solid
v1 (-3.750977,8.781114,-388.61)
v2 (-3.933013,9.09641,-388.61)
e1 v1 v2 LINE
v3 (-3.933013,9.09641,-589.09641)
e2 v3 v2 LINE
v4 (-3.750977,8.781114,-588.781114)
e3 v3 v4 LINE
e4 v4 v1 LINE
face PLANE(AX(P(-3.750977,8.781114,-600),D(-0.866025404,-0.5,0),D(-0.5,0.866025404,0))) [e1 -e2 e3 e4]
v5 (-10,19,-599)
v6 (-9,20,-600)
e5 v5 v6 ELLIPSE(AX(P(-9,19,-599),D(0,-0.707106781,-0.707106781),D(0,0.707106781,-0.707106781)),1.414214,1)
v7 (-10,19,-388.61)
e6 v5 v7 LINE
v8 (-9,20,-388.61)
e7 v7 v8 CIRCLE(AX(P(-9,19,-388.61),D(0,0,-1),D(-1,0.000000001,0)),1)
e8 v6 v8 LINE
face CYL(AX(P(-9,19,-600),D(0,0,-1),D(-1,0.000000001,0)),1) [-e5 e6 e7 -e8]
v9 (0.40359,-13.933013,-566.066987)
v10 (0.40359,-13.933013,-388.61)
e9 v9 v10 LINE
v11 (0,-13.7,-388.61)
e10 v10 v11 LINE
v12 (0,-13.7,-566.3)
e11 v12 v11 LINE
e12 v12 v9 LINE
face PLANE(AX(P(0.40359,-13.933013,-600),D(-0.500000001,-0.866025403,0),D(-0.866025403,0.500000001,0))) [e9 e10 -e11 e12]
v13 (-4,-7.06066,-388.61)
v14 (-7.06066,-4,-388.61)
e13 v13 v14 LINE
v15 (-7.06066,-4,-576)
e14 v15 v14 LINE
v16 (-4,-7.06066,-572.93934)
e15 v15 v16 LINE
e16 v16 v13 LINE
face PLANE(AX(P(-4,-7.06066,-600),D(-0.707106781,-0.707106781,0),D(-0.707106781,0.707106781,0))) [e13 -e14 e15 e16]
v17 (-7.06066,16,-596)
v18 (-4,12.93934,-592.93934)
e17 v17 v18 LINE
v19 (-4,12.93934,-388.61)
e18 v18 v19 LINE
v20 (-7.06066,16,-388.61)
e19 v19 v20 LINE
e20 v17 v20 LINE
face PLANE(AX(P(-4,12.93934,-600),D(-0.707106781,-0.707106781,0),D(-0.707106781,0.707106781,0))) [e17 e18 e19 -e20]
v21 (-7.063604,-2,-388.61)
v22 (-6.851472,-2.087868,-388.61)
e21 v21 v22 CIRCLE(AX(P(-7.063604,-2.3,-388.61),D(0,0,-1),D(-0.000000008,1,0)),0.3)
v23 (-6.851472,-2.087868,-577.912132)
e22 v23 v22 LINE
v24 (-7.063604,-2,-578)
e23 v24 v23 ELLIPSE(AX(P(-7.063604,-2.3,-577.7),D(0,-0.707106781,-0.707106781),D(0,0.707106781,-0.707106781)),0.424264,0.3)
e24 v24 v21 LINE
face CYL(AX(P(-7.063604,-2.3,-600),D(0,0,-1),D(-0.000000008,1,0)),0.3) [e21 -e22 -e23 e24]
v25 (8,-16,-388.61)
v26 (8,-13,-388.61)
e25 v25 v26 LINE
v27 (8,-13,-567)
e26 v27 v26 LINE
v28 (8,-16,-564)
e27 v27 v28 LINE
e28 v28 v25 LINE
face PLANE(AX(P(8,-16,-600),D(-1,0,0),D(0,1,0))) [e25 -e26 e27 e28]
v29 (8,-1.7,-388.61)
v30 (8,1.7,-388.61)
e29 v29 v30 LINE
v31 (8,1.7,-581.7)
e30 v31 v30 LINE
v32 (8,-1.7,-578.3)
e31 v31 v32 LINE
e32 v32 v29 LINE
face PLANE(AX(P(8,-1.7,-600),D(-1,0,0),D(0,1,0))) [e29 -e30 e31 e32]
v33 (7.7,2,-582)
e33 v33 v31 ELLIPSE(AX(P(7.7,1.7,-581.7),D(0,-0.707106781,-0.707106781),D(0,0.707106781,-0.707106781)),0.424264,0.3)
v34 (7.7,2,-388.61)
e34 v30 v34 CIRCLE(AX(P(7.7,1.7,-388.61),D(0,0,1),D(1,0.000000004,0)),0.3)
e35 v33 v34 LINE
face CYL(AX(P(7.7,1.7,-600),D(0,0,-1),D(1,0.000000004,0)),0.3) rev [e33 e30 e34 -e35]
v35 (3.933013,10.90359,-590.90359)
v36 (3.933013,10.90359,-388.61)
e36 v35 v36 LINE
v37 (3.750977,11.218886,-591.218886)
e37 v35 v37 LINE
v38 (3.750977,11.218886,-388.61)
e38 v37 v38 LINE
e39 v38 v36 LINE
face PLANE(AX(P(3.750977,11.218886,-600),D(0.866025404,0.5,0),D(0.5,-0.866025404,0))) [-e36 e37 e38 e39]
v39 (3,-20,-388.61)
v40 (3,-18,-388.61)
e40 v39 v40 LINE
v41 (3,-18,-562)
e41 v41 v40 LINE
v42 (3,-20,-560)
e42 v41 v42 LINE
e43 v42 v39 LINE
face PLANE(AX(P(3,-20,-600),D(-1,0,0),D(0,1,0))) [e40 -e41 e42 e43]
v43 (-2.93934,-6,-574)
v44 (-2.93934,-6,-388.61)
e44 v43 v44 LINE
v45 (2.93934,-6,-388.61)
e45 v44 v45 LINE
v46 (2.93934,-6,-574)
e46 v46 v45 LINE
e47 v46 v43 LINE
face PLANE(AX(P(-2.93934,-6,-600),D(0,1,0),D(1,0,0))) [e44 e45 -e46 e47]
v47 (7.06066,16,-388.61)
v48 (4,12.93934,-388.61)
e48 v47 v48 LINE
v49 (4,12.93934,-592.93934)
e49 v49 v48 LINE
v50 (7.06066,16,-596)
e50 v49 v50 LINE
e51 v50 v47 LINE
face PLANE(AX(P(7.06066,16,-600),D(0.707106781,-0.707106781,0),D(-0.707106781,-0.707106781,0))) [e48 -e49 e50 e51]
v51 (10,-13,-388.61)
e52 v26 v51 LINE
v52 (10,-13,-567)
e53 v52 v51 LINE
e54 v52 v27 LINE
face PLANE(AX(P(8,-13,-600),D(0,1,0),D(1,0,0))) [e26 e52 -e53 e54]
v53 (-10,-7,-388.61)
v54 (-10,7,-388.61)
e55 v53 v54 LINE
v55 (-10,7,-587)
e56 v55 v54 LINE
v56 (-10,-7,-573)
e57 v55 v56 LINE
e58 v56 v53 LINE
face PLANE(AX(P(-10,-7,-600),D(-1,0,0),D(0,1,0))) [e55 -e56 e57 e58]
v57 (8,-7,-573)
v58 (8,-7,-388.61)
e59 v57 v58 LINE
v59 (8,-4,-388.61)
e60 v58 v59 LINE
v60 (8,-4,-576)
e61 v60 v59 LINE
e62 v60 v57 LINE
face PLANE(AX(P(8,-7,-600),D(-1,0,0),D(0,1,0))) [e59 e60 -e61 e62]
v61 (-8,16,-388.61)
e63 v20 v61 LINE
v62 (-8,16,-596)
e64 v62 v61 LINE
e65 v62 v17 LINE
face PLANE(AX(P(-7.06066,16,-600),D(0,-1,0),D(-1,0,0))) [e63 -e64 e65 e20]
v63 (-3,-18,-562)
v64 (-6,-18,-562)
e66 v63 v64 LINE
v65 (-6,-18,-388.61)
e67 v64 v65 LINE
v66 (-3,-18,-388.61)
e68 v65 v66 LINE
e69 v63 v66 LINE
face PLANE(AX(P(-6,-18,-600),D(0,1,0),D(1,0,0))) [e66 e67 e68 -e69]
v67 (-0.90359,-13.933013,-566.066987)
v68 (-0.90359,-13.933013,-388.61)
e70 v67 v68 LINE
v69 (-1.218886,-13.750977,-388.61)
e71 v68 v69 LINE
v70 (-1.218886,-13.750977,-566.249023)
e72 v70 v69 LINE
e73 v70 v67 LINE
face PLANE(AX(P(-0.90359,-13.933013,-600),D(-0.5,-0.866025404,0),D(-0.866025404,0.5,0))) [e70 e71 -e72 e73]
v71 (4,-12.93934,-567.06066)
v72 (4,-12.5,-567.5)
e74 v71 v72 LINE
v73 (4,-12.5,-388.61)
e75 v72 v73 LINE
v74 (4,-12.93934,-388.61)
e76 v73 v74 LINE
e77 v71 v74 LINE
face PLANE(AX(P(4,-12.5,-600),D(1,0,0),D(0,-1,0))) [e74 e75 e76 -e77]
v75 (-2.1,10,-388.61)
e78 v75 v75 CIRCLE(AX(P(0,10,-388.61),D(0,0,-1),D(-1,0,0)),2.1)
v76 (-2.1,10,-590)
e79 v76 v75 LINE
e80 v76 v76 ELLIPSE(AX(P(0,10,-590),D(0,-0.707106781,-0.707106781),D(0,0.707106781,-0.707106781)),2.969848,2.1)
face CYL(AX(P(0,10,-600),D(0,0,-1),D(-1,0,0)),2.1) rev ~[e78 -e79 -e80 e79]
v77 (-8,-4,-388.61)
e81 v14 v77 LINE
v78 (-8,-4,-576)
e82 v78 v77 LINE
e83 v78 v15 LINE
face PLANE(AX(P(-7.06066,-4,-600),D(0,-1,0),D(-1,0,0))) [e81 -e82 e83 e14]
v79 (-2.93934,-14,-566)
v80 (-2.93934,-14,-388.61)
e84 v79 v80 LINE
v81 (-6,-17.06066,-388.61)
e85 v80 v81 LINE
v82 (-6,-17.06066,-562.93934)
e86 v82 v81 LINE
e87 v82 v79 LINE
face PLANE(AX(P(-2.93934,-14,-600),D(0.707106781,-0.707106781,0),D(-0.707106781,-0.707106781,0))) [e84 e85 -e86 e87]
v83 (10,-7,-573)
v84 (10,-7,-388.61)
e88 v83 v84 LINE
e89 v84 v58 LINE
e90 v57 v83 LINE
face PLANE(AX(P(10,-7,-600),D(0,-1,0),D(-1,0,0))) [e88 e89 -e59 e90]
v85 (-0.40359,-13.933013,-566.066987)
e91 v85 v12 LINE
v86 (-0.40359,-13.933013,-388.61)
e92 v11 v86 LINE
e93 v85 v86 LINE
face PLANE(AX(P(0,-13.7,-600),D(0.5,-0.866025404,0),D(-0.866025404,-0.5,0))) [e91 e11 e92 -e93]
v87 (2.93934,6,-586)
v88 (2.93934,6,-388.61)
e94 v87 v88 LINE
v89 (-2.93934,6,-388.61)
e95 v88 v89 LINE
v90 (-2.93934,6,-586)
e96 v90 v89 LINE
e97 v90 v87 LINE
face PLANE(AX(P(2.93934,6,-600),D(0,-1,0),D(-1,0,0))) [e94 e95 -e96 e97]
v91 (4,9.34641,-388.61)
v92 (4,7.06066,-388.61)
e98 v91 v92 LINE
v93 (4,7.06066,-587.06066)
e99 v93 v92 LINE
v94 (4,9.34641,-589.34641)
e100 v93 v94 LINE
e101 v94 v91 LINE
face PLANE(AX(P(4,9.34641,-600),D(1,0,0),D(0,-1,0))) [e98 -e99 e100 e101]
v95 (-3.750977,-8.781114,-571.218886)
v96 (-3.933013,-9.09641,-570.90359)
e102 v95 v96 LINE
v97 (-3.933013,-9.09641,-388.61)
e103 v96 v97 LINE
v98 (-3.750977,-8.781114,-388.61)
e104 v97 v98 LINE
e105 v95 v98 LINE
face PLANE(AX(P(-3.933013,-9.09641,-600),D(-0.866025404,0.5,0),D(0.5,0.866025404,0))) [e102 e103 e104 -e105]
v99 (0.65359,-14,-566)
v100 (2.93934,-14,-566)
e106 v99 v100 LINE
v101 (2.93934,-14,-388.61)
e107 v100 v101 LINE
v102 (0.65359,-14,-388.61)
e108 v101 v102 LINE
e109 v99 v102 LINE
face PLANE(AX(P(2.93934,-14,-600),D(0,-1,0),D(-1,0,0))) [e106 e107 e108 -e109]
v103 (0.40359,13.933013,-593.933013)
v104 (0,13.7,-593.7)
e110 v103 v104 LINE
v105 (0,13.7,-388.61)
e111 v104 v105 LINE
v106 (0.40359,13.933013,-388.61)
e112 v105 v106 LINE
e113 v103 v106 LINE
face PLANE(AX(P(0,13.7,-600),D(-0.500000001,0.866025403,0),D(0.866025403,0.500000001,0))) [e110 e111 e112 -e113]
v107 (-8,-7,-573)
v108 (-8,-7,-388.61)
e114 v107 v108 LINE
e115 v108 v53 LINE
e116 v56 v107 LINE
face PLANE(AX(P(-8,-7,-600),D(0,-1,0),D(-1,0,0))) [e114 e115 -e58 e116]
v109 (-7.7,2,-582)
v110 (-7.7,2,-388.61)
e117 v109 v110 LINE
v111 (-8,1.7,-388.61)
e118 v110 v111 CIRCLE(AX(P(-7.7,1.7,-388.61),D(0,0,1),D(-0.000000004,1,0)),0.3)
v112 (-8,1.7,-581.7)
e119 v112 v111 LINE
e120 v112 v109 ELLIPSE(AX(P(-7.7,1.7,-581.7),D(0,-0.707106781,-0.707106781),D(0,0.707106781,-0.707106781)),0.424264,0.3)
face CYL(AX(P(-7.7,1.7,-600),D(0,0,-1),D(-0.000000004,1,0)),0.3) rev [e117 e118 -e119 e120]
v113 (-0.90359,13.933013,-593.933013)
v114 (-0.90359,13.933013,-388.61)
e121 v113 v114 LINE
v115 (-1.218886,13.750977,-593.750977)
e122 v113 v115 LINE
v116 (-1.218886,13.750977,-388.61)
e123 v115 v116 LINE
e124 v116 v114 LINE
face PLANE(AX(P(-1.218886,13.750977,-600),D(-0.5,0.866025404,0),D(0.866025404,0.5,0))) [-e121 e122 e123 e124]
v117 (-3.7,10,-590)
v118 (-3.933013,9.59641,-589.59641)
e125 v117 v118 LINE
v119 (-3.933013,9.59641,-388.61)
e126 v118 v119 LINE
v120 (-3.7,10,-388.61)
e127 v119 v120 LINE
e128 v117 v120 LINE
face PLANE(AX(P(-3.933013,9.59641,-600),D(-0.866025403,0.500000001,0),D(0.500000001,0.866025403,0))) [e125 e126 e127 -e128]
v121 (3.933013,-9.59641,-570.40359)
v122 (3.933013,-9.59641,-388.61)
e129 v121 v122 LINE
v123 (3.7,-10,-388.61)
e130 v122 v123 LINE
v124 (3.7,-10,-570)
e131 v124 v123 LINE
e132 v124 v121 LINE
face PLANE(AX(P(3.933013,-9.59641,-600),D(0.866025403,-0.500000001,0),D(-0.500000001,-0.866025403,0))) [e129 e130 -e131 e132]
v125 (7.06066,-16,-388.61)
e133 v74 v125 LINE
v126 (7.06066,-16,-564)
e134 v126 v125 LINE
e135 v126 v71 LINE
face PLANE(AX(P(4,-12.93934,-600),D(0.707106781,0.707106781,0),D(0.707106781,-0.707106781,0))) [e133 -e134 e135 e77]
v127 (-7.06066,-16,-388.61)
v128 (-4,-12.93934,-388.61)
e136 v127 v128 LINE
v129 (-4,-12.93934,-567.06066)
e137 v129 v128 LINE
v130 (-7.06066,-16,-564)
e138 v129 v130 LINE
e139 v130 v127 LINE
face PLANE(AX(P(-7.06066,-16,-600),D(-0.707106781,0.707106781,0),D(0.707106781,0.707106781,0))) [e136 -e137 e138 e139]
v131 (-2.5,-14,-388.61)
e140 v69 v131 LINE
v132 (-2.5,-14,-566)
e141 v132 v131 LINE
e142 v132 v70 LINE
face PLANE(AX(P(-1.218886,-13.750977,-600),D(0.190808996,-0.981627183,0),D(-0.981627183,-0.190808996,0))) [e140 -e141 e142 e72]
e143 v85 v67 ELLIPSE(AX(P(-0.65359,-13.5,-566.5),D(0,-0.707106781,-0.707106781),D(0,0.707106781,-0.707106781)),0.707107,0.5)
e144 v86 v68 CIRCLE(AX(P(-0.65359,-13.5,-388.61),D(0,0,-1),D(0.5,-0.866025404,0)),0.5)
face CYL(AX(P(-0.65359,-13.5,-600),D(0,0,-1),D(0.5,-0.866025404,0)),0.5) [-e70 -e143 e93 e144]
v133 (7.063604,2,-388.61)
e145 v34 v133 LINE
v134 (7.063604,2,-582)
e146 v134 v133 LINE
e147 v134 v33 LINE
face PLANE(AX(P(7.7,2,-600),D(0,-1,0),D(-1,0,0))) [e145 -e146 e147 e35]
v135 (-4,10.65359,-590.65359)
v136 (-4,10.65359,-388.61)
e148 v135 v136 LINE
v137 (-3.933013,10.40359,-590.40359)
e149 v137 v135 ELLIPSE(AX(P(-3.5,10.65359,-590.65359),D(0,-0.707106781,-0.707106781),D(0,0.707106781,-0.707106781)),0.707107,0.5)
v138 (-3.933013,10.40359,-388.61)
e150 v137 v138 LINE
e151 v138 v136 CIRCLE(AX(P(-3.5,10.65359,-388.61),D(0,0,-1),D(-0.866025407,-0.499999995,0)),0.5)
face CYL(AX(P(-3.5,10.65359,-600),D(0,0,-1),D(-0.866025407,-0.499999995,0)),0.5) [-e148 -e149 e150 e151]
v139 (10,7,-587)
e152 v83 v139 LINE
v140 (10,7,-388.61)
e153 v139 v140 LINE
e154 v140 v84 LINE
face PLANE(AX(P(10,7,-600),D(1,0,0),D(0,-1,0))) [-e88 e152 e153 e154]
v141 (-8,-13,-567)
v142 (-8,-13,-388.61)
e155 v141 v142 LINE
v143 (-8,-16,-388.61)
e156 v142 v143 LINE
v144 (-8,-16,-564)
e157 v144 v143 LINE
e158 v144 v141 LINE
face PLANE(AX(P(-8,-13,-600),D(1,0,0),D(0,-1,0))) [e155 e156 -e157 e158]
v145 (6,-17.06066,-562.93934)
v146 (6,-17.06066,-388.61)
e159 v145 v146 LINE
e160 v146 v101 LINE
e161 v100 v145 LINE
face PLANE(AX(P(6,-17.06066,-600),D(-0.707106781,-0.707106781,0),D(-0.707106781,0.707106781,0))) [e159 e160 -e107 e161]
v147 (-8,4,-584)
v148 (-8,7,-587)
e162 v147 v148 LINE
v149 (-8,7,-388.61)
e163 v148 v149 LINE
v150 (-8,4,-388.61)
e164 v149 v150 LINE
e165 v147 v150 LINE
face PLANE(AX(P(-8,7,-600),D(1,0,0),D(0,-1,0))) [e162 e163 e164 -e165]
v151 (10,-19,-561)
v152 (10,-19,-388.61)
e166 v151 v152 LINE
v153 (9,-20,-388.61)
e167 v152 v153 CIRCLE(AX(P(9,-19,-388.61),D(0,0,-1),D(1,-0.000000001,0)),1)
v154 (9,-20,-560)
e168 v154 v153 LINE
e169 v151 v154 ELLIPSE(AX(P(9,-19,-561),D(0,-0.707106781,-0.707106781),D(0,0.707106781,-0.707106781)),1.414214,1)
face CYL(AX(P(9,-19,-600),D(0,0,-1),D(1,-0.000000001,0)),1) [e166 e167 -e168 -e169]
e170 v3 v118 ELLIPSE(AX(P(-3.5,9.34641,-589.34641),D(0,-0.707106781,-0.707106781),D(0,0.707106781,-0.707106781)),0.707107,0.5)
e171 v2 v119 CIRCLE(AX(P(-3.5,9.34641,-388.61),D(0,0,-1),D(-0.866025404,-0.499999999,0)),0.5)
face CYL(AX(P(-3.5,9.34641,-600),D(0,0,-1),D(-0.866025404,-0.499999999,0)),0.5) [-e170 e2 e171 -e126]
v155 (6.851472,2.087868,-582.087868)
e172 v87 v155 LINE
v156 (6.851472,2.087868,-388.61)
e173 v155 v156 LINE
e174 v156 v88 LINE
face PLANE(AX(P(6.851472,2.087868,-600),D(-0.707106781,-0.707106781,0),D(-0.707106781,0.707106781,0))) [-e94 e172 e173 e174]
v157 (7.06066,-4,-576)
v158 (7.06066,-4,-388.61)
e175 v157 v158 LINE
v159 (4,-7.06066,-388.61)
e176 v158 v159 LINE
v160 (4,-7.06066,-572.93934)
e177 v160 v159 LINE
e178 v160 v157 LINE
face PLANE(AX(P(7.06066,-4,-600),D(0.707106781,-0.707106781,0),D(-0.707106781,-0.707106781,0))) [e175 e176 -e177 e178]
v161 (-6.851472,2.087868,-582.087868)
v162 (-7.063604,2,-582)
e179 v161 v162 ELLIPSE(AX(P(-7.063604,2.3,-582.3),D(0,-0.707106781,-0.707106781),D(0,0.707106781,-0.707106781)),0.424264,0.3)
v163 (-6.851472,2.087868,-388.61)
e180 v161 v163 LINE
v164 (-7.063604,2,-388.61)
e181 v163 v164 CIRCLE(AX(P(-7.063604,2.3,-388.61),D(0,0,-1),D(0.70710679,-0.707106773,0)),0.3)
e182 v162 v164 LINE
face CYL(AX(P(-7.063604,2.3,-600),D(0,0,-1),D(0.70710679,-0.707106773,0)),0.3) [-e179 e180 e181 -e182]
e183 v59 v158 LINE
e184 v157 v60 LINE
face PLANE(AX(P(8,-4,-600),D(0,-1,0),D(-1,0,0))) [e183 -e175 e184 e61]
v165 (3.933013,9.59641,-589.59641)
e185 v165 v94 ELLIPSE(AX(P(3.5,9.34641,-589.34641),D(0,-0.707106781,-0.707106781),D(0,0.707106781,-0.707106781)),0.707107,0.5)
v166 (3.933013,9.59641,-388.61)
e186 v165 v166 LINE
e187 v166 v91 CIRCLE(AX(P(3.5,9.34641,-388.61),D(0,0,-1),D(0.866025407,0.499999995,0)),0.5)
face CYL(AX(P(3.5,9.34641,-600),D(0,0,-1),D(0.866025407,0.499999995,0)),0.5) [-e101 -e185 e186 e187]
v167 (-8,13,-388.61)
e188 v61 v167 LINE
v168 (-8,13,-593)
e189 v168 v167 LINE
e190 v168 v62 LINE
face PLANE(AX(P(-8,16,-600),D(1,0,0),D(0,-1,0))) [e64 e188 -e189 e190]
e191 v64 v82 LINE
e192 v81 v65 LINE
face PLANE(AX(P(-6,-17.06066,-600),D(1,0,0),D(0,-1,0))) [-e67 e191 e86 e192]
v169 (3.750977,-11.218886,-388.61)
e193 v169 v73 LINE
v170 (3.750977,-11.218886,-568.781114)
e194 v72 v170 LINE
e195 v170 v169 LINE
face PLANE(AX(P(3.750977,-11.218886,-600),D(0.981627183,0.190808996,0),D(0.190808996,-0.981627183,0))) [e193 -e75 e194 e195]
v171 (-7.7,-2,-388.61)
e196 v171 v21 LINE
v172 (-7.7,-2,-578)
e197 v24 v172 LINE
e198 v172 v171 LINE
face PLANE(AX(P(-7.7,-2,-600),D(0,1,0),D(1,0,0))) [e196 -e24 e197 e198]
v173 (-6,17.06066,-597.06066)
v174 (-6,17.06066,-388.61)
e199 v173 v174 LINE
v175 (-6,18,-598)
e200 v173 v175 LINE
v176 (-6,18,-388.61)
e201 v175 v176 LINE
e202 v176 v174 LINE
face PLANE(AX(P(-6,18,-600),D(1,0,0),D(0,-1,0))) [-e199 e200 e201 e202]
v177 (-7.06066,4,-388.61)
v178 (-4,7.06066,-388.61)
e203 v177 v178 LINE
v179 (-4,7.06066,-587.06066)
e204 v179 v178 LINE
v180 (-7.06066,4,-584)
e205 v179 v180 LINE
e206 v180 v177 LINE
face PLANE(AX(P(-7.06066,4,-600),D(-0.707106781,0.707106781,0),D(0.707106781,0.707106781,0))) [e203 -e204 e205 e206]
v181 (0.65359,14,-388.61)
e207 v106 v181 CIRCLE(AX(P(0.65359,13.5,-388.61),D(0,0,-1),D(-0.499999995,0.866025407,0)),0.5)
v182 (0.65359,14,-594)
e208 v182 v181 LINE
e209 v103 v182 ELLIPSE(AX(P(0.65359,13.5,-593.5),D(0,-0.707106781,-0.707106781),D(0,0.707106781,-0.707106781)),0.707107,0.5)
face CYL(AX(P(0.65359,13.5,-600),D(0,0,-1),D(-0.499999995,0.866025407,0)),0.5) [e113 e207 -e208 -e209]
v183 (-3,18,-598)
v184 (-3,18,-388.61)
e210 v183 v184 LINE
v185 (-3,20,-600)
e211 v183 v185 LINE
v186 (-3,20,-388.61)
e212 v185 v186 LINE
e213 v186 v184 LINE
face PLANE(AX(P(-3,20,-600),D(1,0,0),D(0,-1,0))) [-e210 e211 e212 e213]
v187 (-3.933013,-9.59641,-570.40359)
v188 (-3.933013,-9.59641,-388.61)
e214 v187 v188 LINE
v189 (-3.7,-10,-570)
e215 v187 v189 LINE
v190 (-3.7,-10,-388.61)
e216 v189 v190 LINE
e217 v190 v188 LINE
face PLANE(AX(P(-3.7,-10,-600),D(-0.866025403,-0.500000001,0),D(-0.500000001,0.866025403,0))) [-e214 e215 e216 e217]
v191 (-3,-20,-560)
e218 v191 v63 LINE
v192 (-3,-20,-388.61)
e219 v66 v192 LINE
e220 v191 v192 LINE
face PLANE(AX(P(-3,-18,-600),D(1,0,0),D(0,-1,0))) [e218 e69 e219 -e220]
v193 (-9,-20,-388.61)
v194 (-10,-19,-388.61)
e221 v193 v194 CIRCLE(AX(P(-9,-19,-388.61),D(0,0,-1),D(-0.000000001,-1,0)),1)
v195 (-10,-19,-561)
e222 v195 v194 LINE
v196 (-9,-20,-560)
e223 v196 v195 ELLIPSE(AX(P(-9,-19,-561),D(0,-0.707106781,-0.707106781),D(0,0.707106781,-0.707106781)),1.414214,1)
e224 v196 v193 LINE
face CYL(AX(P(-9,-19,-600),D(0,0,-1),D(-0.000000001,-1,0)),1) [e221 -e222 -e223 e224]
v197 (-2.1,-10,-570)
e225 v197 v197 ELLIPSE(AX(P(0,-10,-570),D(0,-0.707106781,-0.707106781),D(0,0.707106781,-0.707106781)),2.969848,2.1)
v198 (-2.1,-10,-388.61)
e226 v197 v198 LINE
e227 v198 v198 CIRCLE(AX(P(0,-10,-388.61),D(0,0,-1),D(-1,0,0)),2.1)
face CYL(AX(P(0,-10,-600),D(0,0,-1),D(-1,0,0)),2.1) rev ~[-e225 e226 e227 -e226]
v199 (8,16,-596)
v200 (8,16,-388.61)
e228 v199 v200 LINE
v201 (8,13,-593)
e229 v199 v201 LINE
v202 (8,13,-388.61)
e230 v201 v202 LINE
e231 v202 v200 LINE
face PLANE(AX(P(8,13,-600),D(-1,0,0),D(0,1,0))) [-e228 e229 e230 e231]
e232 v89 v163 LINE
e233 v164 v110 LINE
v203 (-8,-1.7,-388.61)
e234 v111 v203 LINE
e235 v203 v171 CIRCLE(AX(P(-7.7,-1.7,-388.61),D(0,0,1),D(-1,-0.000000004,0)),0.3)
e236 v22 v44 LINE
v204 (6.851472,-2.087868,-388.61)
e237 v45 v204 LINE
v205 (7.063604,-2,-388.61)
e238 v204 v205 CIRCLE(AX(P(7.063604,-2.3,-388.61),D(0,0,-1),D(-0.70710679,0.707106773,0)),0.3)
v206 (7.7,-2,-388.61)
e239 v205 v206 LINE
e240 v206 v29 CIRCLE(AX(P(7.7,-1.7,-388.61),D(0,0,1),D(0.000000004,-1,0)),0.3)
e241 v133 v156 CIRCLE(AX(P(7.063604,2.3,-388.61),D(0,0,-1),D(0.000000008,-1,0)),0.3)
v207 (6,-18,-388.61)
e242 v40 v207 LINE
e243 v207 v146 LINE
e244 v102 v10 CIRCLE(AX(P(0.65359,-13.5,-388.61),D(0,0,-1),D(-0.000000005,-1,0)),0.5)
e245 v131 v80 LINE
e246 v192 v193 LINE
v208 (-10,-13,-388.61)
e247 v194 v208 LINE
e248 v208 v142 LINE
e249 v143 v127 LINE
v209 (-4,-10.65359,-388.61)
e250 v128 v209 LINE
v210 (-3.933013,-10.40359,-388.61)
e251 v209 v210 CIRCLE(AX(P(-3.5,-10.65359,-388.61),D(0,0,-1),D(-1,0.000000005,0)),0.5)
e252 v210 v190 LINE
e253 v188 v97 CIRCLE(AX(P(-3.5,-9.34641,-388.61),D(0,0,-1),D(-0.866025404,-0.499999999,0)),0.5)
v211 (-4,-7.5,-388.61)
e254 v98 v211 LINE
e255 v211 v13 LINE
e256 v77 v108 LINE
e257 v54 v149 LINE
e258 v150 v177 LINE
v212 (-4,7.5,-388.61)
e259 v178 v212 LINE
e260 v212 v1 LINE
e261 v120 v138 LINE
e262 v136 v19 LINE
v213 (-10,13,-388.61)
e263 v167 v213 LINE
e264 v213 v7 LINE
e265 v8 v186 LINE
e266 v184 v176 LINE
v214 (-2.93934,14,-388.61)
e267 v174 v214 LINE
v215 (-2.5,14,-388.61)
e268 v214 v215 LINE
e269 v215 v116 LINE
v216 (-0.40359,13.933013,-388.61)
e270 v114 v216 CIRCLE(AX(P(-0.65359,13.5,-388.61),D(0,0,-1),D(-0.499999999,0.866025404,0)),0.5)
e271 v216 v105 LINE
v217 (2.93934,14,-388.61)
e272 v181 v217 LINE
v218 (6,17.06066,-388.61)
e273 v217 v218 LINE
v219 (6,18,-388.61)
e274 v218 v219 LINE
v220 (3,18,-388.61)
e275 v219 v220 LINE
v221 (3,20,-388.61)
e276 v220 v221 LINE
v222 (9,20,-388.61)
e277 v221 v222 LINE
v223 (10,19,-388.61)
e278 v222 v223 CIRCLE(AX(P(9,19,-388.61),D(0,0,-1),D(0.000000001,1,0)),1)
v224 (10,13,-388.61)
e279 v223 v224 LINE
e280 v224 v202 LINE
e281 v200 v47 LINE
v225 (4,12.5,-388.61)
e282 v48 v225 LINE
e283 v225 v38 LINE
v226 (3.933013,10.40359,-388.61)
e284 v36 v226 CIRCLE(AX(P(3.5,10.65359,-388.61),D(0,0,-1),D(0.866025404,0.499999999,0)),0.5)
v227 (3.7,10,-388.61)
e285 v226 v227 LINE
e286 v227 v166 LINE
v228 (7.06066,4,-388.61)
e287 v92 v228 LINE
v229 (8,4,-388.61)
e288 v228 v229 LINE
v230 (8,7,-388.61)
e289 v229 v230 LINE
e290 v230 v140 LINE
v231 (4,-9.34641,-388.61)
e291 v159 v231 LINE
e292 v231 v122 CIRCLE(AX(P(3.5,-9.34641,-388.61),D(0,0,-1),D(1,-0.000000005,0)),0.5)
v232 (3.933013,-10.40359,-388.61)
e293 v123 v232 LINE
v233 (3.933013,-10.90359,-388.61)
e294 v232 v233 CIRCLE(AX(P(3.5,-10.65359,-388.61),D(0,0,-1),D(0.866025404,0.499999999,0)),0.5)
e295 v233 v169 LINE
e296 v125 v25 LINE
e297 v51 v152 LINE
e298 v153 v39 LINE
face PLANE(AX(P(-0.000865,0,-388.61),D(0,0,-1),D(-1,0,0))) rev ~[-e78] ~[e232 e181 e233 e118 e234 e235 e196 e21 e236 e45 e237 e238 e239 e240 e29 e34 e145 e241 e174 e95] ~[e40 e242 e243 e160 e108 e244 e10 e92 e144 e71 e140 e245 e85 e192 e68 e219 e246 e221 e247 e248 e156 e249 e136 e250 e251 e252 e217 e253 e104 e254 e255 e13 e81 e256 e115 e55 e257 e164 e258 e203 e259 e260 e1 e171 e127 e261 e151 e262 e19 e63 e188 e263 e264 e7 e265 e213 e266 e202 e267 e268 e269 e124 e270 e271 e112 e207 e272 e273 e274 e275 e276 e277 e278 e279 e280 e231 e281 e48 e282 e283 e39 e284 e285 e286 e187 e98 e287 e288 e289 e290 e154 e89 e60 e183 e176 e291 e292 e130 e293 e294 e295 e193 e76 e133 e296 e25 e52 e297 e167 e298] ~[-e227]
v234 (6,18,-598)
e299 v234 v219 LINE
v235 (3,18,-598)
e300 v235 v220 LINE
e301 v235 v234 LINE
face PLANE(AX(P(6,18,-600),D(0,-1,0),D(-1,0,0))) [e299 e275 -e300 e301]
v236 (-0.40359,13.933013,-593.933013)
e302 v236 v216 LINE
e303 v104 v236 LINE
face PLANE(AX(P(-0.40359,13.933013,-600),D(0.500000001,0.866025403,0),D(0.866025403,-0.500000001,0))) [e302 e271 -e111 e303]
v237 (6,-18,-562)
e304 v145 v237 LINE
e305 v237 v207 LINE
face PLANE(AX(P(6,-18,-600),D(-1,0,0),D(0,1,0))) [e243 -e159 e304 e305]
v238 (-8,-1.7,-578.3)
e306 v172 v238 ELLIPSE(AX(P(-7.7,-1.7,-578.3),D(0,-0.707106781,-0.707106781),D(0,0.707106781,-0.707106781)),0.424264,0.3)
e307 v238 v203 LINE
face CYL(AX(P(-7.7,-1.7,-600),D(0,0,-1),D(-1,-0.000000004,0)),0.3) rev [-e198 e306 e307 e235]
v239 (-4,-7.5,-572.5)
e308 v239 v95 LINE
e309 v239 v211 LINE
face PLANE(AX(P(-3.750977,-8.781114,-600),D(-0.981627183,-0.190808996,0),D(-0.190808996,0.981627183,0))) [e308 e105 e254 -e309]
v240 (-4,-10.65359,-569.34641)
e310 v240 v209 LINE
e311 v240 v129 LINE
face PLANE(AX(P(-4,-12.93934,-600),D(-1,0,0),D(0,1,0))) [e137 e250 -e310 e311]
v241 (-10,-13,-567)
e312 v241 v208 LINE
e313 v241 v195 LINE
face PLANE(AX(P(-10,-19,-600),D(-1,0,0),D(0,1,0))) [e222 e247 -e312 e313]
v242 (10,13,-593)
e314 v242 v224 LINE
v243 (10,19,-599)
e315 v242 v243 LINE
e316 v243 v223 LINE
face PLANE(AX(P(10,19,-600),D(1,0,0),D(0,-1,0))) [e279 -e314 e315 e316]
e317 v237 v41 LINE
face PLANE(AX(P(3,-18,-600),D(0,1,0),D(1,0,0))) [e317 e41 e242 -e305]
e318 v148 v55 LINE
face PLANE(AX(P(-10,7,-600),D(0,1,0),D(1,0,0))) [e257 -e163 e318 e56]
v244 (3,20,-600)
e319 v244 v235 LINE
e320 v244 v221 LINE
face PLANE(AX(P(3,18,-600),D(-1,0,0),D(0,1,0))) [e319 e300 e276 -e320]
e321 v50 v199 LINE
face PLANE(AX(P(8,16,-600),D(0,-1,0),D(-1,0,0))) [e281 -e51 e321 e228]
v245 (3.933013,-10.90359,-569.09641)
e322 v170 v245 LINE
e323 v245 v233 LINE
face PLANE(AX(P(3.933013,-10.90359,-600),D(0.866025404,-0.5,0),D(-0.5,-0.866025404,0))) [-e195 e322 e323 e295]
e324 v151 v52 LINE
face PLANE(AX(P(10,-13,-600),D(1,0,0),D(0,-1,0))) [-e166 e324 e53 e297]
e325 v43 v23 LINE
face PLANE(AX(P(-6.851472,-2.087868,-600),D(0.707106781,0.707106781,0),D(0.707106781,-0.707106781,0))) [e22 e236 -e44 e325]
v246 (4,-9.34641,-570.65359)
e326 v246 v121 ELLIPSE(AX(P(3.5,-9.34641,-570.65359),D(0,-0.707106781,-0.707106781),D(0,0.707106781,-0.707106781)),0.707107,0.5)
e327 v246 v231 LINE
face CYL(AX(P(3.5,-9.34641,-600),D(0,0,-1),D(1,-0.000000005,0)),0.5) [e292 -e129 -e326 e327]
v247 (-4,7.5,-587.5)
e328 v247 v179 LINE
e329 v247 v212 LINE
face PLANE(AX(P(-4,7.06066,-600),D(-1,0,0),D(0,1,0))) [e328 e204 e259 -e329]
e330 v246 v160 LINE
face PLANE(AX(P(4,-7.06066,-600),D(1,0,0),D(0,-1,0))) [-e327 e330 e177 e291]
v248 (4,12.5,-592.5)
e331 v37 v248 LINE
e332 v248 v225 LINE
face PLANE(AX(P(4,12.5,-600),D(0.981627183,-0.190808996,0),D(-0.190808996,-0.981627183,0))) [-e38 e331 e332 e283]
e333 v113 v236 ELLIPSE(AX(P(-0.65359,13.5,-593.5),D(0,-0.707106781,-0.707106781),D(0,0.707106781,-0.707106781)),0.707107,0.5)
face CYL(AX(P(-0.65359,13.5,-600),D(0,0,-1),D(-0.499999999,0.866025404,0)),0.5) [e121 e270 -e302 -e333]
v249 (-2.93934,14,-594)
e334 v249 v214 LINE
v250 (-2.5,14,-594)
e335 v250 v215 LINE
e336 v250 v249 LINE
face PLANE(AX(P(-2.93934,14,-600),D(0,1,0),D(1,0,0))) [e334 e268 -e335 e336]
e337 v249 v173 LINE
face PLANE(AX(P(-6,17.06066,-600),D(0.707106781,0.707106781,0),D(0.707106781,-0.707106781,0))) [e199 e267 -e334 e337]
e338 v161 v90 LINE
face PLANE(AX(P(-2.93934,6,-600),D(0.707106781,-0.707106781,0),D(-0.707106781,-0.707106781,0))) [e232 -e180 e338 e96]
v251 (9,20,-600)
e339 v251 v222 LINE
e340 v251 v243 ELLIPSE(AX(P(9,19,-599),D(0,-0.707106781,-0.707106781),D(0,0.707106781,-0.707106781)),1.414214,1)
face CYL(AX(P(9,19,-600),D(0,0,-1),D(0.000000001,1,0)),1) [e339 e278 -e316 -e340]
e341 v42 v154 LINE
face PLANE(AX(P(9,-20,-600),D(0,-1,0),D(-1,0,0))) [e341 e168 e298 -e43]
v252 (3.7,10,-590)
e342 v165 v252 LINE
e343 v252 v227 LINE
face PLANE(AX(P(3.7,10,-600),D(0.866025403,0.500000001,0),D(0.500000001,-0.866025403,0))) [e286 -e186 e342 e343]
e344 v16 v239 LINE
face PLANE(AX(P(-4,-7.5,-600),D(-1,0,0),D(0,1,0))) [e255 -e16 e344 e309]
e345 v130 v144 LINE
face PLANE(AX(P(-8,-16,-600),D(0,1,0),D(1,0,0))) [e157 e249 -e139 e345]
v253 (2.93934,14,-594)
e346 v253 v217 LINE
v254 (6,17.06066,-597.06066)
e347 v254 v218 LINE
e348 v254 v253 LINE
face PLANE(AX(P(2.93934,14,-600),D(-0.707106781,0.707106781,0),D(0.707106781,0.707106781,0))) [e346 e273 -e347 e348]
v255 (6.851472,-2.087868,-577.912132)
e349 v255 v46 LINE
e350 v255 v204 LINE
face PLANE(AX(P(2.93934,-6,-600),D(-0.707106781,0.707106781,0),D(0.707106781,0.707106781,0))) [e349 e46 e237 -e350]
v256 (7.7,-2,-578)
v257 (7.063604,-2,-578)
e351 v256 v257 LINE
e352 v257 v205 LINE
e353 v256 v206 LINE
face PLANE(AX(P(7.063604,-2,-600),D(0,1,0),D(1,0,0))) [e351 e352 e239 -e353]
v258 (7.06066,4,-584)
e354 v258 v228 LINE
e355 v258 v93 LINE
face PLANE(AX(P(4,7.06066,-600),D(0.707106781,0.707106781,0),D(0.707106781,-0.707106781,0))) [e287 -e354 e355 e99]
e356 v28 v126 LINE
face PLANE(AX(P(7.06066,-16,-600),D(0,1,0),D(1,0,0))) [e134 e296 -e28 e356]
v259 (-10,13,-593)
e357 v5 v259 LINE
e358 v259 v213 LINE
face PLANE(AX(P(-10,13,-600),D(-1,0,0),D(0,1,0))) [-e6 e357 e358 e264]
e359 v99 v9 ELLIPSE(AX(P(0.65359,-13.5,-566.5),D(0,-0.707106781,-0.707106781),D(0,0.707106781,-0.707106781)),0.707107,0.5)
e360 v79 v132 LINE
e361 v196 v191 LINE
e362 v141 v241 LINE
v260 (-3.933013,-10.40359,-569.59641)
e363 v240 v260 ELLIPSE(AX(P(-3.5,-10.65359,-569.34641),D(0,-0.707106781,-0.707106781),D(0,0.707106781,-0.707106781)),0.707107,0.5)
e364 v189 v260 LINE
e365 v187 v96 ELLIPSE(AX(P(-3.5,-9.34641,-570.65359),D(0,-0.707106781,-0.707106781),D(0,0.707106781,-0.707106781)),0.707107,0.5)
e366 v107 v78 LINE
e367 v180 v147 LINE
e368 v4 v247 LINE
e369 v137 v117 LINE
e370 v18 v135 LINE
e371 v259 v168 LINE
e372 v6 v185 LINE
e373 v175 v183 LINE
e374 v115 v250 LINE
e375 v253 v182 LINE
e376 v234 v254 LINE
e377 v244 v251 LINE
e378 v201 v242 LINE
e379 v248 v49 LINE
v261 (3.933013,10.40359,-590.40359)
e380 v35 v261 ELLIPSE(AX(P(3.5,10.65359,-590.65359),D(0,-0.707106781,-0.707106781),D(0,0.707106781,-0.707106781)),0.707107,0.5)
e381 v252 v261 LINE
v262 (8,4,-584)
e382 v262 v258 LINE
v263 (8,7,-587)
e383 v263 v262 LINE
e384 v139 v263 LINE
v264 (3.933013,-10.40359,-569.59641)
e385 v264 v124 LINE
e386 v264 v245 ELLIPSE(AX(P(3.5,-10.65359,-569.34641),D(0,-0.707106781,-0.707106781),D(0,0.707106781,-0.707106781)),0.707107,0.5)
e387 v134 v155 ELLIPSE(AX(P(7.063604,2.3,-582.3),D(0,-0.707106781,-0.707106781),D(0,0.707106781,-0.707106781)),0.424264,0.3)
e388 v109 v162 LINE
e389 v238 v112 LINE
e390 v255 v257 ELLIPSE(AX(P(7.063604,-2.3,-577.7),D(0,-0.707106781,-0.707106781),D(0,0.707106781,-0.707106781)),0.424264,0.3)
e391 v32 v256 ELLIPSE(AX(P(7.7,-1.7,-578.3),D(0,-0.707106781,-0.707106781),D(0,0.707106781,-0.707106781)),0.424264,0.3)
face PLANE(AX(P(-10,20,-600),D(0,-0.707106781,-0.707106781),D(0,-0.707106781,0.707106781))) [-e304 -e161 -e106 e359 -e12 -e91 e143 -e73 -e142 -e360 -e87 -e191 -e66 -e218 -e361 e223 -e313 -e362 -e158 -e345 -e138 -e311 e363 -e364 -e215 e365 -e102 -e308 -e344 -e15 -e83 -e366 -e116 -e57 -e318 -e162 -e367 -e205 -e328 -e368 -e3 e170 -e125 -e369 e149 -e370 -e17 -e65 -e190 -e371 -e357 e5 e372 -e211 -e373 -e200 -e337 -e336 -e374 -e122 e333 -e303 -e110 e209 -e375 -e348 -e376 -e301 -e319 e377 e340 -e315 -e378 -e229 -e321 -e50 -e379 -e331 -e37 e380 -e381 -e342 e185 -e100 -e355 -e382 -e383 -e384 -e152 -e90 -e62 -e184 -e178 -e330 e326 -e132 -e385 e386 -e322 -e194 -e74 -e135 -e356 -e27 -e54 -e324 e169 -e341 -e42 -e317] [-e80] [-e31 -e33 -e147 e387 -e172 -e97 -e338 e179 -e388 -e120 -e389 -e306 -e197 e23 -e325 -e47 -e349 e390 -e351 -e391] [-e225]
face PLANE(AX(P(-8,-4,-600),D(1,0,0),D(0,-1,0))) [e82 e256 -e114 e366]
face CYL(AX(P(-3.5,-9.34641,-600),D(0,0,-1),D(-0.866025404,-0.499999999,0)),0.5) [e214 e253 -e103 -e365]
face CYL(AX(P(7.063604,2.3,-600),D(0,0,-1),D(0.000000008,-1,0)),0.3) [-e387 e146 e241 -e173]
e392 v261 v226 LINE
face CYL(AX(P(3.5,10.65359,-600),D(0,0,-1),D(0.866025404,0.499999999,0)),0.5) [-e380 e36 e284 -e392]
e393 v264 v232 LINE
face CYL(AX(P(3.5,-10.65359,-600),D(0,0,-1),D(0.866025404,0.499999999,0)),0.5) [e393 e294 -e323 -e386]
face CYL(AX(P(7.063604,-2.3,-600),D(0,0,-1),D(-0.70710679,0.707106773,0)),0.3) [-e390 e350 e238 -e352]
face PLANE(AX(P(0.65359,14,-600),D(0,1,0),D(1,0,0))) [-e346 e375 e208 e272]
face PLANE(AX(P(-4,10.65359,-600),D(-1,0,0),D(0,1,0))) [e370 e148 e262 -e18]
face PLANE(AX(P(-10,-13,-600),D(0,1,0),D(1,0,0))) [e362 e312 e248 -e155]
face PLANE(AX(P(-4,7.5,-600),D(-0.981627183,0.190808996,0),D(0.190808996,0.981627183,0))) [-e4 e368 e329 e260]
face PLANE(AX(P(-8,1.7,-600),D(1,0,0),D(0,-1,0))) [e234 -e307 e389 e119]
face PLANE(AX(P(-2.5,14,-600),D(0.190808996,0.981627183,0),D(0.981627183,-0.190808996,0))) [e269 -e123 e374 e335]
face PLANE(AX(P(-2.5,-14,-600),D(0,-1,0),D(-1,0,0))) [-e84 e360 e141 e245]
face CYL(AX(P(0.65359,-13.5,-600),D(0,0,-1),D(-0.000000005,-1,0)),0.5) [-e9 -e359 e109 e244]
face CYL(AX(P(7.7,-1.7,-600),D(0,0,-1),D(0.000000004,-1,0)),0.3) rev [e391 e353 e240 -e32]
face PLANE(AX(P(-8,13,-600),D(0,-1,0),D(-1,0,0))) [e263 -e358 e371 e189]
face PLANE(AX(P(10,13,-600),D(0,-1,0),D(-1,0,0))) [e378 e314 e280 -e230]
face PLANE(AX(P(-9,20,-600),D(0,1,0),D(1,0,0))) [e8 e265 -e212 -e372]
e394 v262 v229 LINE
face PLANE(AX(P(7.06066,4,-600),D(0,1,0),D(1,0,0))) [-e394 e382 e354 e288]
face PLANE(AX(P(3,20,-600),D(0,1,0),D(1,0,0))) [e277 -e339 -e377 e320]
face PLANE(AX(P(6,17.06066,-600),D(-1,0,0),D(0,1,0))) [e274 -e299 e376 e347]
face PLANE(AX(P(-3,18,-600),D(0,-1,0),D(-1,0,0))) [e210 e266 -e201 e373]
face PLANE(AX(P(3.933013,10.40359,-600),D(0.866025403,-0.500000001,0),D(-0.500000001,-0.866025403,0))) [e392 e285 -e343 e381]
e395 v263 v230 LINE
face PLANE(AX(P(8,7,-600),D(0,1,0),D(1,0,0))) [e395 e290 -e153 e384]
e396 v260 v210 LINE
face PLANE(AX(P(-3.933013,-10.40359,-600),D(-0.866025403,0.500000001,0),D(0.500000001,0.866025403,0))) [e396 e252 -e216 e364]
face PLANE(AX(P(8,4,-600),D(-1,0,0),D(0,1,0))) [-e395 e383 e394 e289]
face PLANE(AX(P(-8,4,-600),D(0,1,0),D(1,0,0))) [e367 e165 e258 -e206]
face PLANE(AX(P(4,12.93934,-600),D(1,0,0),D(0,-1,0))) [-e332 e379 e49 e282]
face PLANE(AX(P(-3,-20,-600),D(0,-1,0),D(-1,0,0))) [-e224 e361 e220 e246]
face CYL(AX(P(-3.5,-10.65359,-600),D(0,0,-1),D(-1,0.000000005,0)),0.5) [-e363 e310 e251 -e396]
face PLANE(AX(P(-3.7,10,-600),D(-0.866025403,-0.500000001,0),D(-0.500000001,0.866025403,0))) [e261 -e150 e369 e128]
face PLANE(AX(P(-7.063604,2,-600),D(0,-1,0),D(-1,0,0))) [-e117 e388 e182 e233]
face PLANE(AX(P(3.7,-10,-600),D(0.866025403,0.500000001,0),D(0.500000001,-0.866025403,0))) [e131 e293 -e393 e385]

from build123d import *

# Parameters (mm, degrees)
SKETCH1_R           = 2.1
BOSS_EXTRUDE1_DEPTH = 211.39
CUT_EXTRUDE1_DEPTH  = 21


with BuildPart() as part:
    # Sketch1 → Boss-Extrude1 (new body)
    with BuildSketch(Plane(origin=(0, 0, -600), x_dir=(-1, 0, 0), z_dir=(0, 0, -1))):
        with BuildLine():
            Line((10, -7), (10, 7))
            Line((10, 7), (8, 7))
            Line((8, 7), (8, 4))
            Line((8, 4), (7.060660172, 4))
            Line((7.060660172, 4), (4, 7.060660172))
            Line((4, 7.060660172), (4, 7.5))
            Line((4, 7.5), (3.750976592, 8.781114371))
            Line((3.750976592, 8.781114371), (3.933012702, 9.096410162))
            ThreePointArc((3.933012702, 9.096410162), (4, 9.346410162), (3.933012702, 9.596410162))
            Line((3.933012702, 9.596410162), (3.7, 10))
            Line((3.7, 10), (3.933012702, 10.403589838))
            ThreePointArc((3.933012702, 10.403589838), (3.982962913, 10.524180316), (4, 10.653589838))
            Line((4, 10.653589838), (4, 12.939339828))
            Line((4, 12.939339828), (7.060660172, 16))
            Line((7.060660172, 16), (8, 16))
            Line((8, 16), (8, 13))
            Line((8, 13), (10, 13))
            Line((10, 13), (10, 19))
            ThreePointArc((10, 19), (9.707106781, 19.707106781), (9, 20))
            Line((9, 20), (3, 20))
            Line((3, 20), (3, 18))
            Line((3, 18), (6, 18))
            Line((6, 18), (6, 17.060660172))
            Line((6, 17.060660172), (2.939339828, 14))
            Line((2.939339828, 14), (2.5, 14))
            Line((2.5, 14), (1.218885629, 13.750976592))
            Line((1.218885629, 13.750976592), (0.903589838, 13.933012702))
            ThreePointArc((0.903589838, 13.933012702), (0.653589838, 14), (0.403589838, 13.933012702))
            Line((0.403589838, 13.933012702), (0, 13.7))
            Line((0, 13.7), (-0.403589838, 13.933012702))
            ThreePointArc((-0.403589838, 13.933012702), (-0.524180316, 13.982962913), (-0.653589838, 14))
            Line((-0.653589838, 14), (-2.939339828, 14))
            Line((-2.939339828, 14), (-6, 17.060660172))
            Line((-6, 17.060660172), (-6, 18))
            Line((-6, 18), (-3, 18))
            Line((-3, 18), (-3, 20))
            Line((-3, 20), (-9, 20))
            ThreePointArc((-9, 20), (-9.707106781, 19.707106781), (-10, 19))
            Line((-10, 19), (-10, 13))
            Line((-10, 13), (-8, 13))
            Line((-8, 13), (-8, 16))
            Line((-8, 16), (-7.060660172, 16))
            Line((-7.060660172, 16), (-4, 12.939339828))
            Line((-4, 12.939339828), (-4, 12.5))
            Line((-4, 12.5), (-3.750976592, 11.218885629))
            Line((-3.750976592, 11.218885629), (-3.933012702, 10.903589838))
            ThreePointArc((-3.933012702, 10.903589838), (-4, 10.653589838), (-3.933012702, 10.403589838))
            Line((-3.933012702, 10.403589838), (-3.7, 10))
            Line((-3.7, 10), (-3.933012702, 9.596410162))
            ThreePointArc((-3.933012702, 9.596410162), (-3.982962913, 9.475819684), (-4, 9.346410162))
            Line((-4, 9.346410162), (-4, 7.060660172))
            Line((-4, 7.060660172), (-7.060660172, 4))
            Line((-7.060660172, 4), (-8, 4))
            Line((-8, 4), (-8, 7))
            Line((-8, 7), (-10, 7))
            Line((-10, 7), (-10, -7))
            Line((-10, -7), (-8, -7))
            Line((-8, -7), (-8, -4))
            Line((-8, -4), (-7.060660172, -4))
            Line((-7.060660172, -4), (-4, -7.060660172))
            Line((-4, -7.060660172), (-4, -9.346410162))
            ThreePointArc((-4, -9.346410162), (-3.982962913, -9.475819684), (-3.933012702, -9.596410162))
            Line((-3.933012702, -9.596410162), (-3.7, -10))
            Line((-3.7, -10), (-3.933012702, -10.403589838))
            ThreePointArc((-3.933012702, -10.403589838), (-4, -10.653589838), (-3.933012702, -10.903589838))
            Line((-3.933012702, -10.903589838), (-3.750976592, -11.218885629))
            Line((-3.750976592, -11.218885629), (-4, -12.5))
            Line((-4, -12.5), (-4, -12.939339828))
            Line((-4, -12.939339828), (-7.060660172, -16))
            Line((-7.060660172, -16), (-8, -16))
            Line((-8, -16), (-8, -13))
            Line((-8, -13), (-10, -13))
            Line((-10, -13), (-10, -19))
            ThreePointArc((-10, -19), (-9.707106781, -19.707106781), (-9, -20))
            Line((-9, -20), (-3, -20))
            Line((-3, -20), (-3, -18))
            Line((-3, -18), (-6, -18))
            Line((-6, -18), (-6, -17.060660172))
            Line((-6, -17.060660172), (-2.939339828, -14))
            Line((-2.939339828, -14), (-0.653589838, -14))
            ThreePointArc((-0.653589838, -14), (-0.524180316, -13.982962913), (-0.403589838, -13.933012702))
            Line((-0.403589838, -13.933012702), (0, -13.7))
            Line((0, -13.7), (0.403589839, -13.933012702))
            ThreePointArc((0.403589839, -13.933012702), (0.653589839, -14), (0.903589838, -13.933012702))
            Line((0.903589838, -13.933012702), (1.218885629, -13.750976592))
            Line((1.218885629, -13.750976592), (2.5, -14))
            Line((2.5, -14), (2.939339828, -14))
            Line((2.939339828, -14), (6, -17.060660172))
            Line((6, -17.060660172), (6, -18))
            Line((6, -18), (3, -18))
            Line((3, -18), (3, -20))
            Line((3, -20), (9, -20))
            ThreePointArc((9, -20), (9.707106781, -19.707106781), (10, -19))
            Line((10, -19), (10, -13))
            Line((10, -13), (8, -13))
            Line((8, -13), (8, -16))
            Line((8, -16), (7.060660172, -16))
            Line((7.060660172, -16), (4, -12.939339828))
            Line((4, -12.939339828), (4, -10.653589838))
            ThreePointArc((4, -10.653589838), (3.982962913, -10.524180316), (3.933012702, -10.403589838))
            Line((3.933012702, -10.403589838), (3.7, -10))
            Line((3.7, -10), (3.933012702, -9.596410162))
            ThreePointArc((3.933012702, -9.596410162), (4, -9.346410162), (3.933012702, -9.096410162))
            Line((3.933012702, -9.096410162), (3.750976592, -8.781114371))
            Line((3.750976592, -8.781114371), (4, -7.5))
            Line((4, -7.5), (4, -7.060660172))
            Line((4, -7.060660172), (7.060660172, -4))
            Line((7.060660172, -4), (8, -4))
            Line((8, -4), (8, -7))
            Line((8, -7), (10, -7))
        make_face()
        with Locations((0, -10)):
            Circle(SKETCH1_R, mode=Mode.SUBTRACT)
        with Locations((0, 10)):
            Circle(SKETCH1_R, mode=Mode.SUBTRACT)
        with BuildLine():
            Line((8, 1.7), (8, -1.7))
            ThreePointArc((8, -1.7), (7.912132034, -1.912132034), (7.7, -2))
            Line((7.7, -2), (7.063603897, -2))
            ThreePointArc((7.063603897, -2), (6.948798867, -2.02283614), (6.851471863, -2.087867966))
            Line((6.851471863, -2.087867966), (2.939339828, -6))
            Line((2.939339828, -6), (-2.939339828, -6))
            Line((-2.939339828, -6), (-6.851471863, -2.087867966))
            ThreePointArc((-6.851471863, -2.087867966), (-6.948798867, -2.02283614), (-7.063603897, -2))
            Line((-7.063603897, -2), (-7.7, -2))
            ThreePointArc((-7.7, -2), (-7.912132034, -1.912132034), (-8, -1.7))
            Line((-8, -1.7), (-8, 1.7))
            ThreePointArc((-8, 1.7), (-7.912132034, 1.912132034), (-7.7, 2))
            Line((-7.7, 2), (-7.063603897, 2))
            ThreePointArc((-7.063603897, 2), (-6.948798867, 2.02283614), (-6.851471863, 2.087867966))
            Line((-6.851471863, 2.087867966), (-2.939339828, 6))
            Line((-2.939339828, 6), (2.939339828, 6))
            Line((2.939339828, 6), (6.851471863, 2.087867966))
            ThreePointArc((6.851471863, 2.087867966), (6.948798867, 2.02283614), (7.063603897, 2))
            Line((7.063603897, 2), (7.7, 2))
            ThreePointArc((7.7, 2), (7.912132034, 1.912132034), (8, 1.7))
        make_face(mode=Mode.SUBTRACT)
    extrude(amount=-BOSS_EXTRUDE1_DEPTH)

    # Sketch2 → Cut-Extrude1 (cut, through all)
    with BuildSketch(Plane.ZY.offset(10)):
        Polygon((-600, 20), (-560, -20), (-600, -20), align=None)
    extrude(amount=-CUT_EXTRUDE1_DEPTH, mode=Mode.SUBTRACT)


solid = part.part
